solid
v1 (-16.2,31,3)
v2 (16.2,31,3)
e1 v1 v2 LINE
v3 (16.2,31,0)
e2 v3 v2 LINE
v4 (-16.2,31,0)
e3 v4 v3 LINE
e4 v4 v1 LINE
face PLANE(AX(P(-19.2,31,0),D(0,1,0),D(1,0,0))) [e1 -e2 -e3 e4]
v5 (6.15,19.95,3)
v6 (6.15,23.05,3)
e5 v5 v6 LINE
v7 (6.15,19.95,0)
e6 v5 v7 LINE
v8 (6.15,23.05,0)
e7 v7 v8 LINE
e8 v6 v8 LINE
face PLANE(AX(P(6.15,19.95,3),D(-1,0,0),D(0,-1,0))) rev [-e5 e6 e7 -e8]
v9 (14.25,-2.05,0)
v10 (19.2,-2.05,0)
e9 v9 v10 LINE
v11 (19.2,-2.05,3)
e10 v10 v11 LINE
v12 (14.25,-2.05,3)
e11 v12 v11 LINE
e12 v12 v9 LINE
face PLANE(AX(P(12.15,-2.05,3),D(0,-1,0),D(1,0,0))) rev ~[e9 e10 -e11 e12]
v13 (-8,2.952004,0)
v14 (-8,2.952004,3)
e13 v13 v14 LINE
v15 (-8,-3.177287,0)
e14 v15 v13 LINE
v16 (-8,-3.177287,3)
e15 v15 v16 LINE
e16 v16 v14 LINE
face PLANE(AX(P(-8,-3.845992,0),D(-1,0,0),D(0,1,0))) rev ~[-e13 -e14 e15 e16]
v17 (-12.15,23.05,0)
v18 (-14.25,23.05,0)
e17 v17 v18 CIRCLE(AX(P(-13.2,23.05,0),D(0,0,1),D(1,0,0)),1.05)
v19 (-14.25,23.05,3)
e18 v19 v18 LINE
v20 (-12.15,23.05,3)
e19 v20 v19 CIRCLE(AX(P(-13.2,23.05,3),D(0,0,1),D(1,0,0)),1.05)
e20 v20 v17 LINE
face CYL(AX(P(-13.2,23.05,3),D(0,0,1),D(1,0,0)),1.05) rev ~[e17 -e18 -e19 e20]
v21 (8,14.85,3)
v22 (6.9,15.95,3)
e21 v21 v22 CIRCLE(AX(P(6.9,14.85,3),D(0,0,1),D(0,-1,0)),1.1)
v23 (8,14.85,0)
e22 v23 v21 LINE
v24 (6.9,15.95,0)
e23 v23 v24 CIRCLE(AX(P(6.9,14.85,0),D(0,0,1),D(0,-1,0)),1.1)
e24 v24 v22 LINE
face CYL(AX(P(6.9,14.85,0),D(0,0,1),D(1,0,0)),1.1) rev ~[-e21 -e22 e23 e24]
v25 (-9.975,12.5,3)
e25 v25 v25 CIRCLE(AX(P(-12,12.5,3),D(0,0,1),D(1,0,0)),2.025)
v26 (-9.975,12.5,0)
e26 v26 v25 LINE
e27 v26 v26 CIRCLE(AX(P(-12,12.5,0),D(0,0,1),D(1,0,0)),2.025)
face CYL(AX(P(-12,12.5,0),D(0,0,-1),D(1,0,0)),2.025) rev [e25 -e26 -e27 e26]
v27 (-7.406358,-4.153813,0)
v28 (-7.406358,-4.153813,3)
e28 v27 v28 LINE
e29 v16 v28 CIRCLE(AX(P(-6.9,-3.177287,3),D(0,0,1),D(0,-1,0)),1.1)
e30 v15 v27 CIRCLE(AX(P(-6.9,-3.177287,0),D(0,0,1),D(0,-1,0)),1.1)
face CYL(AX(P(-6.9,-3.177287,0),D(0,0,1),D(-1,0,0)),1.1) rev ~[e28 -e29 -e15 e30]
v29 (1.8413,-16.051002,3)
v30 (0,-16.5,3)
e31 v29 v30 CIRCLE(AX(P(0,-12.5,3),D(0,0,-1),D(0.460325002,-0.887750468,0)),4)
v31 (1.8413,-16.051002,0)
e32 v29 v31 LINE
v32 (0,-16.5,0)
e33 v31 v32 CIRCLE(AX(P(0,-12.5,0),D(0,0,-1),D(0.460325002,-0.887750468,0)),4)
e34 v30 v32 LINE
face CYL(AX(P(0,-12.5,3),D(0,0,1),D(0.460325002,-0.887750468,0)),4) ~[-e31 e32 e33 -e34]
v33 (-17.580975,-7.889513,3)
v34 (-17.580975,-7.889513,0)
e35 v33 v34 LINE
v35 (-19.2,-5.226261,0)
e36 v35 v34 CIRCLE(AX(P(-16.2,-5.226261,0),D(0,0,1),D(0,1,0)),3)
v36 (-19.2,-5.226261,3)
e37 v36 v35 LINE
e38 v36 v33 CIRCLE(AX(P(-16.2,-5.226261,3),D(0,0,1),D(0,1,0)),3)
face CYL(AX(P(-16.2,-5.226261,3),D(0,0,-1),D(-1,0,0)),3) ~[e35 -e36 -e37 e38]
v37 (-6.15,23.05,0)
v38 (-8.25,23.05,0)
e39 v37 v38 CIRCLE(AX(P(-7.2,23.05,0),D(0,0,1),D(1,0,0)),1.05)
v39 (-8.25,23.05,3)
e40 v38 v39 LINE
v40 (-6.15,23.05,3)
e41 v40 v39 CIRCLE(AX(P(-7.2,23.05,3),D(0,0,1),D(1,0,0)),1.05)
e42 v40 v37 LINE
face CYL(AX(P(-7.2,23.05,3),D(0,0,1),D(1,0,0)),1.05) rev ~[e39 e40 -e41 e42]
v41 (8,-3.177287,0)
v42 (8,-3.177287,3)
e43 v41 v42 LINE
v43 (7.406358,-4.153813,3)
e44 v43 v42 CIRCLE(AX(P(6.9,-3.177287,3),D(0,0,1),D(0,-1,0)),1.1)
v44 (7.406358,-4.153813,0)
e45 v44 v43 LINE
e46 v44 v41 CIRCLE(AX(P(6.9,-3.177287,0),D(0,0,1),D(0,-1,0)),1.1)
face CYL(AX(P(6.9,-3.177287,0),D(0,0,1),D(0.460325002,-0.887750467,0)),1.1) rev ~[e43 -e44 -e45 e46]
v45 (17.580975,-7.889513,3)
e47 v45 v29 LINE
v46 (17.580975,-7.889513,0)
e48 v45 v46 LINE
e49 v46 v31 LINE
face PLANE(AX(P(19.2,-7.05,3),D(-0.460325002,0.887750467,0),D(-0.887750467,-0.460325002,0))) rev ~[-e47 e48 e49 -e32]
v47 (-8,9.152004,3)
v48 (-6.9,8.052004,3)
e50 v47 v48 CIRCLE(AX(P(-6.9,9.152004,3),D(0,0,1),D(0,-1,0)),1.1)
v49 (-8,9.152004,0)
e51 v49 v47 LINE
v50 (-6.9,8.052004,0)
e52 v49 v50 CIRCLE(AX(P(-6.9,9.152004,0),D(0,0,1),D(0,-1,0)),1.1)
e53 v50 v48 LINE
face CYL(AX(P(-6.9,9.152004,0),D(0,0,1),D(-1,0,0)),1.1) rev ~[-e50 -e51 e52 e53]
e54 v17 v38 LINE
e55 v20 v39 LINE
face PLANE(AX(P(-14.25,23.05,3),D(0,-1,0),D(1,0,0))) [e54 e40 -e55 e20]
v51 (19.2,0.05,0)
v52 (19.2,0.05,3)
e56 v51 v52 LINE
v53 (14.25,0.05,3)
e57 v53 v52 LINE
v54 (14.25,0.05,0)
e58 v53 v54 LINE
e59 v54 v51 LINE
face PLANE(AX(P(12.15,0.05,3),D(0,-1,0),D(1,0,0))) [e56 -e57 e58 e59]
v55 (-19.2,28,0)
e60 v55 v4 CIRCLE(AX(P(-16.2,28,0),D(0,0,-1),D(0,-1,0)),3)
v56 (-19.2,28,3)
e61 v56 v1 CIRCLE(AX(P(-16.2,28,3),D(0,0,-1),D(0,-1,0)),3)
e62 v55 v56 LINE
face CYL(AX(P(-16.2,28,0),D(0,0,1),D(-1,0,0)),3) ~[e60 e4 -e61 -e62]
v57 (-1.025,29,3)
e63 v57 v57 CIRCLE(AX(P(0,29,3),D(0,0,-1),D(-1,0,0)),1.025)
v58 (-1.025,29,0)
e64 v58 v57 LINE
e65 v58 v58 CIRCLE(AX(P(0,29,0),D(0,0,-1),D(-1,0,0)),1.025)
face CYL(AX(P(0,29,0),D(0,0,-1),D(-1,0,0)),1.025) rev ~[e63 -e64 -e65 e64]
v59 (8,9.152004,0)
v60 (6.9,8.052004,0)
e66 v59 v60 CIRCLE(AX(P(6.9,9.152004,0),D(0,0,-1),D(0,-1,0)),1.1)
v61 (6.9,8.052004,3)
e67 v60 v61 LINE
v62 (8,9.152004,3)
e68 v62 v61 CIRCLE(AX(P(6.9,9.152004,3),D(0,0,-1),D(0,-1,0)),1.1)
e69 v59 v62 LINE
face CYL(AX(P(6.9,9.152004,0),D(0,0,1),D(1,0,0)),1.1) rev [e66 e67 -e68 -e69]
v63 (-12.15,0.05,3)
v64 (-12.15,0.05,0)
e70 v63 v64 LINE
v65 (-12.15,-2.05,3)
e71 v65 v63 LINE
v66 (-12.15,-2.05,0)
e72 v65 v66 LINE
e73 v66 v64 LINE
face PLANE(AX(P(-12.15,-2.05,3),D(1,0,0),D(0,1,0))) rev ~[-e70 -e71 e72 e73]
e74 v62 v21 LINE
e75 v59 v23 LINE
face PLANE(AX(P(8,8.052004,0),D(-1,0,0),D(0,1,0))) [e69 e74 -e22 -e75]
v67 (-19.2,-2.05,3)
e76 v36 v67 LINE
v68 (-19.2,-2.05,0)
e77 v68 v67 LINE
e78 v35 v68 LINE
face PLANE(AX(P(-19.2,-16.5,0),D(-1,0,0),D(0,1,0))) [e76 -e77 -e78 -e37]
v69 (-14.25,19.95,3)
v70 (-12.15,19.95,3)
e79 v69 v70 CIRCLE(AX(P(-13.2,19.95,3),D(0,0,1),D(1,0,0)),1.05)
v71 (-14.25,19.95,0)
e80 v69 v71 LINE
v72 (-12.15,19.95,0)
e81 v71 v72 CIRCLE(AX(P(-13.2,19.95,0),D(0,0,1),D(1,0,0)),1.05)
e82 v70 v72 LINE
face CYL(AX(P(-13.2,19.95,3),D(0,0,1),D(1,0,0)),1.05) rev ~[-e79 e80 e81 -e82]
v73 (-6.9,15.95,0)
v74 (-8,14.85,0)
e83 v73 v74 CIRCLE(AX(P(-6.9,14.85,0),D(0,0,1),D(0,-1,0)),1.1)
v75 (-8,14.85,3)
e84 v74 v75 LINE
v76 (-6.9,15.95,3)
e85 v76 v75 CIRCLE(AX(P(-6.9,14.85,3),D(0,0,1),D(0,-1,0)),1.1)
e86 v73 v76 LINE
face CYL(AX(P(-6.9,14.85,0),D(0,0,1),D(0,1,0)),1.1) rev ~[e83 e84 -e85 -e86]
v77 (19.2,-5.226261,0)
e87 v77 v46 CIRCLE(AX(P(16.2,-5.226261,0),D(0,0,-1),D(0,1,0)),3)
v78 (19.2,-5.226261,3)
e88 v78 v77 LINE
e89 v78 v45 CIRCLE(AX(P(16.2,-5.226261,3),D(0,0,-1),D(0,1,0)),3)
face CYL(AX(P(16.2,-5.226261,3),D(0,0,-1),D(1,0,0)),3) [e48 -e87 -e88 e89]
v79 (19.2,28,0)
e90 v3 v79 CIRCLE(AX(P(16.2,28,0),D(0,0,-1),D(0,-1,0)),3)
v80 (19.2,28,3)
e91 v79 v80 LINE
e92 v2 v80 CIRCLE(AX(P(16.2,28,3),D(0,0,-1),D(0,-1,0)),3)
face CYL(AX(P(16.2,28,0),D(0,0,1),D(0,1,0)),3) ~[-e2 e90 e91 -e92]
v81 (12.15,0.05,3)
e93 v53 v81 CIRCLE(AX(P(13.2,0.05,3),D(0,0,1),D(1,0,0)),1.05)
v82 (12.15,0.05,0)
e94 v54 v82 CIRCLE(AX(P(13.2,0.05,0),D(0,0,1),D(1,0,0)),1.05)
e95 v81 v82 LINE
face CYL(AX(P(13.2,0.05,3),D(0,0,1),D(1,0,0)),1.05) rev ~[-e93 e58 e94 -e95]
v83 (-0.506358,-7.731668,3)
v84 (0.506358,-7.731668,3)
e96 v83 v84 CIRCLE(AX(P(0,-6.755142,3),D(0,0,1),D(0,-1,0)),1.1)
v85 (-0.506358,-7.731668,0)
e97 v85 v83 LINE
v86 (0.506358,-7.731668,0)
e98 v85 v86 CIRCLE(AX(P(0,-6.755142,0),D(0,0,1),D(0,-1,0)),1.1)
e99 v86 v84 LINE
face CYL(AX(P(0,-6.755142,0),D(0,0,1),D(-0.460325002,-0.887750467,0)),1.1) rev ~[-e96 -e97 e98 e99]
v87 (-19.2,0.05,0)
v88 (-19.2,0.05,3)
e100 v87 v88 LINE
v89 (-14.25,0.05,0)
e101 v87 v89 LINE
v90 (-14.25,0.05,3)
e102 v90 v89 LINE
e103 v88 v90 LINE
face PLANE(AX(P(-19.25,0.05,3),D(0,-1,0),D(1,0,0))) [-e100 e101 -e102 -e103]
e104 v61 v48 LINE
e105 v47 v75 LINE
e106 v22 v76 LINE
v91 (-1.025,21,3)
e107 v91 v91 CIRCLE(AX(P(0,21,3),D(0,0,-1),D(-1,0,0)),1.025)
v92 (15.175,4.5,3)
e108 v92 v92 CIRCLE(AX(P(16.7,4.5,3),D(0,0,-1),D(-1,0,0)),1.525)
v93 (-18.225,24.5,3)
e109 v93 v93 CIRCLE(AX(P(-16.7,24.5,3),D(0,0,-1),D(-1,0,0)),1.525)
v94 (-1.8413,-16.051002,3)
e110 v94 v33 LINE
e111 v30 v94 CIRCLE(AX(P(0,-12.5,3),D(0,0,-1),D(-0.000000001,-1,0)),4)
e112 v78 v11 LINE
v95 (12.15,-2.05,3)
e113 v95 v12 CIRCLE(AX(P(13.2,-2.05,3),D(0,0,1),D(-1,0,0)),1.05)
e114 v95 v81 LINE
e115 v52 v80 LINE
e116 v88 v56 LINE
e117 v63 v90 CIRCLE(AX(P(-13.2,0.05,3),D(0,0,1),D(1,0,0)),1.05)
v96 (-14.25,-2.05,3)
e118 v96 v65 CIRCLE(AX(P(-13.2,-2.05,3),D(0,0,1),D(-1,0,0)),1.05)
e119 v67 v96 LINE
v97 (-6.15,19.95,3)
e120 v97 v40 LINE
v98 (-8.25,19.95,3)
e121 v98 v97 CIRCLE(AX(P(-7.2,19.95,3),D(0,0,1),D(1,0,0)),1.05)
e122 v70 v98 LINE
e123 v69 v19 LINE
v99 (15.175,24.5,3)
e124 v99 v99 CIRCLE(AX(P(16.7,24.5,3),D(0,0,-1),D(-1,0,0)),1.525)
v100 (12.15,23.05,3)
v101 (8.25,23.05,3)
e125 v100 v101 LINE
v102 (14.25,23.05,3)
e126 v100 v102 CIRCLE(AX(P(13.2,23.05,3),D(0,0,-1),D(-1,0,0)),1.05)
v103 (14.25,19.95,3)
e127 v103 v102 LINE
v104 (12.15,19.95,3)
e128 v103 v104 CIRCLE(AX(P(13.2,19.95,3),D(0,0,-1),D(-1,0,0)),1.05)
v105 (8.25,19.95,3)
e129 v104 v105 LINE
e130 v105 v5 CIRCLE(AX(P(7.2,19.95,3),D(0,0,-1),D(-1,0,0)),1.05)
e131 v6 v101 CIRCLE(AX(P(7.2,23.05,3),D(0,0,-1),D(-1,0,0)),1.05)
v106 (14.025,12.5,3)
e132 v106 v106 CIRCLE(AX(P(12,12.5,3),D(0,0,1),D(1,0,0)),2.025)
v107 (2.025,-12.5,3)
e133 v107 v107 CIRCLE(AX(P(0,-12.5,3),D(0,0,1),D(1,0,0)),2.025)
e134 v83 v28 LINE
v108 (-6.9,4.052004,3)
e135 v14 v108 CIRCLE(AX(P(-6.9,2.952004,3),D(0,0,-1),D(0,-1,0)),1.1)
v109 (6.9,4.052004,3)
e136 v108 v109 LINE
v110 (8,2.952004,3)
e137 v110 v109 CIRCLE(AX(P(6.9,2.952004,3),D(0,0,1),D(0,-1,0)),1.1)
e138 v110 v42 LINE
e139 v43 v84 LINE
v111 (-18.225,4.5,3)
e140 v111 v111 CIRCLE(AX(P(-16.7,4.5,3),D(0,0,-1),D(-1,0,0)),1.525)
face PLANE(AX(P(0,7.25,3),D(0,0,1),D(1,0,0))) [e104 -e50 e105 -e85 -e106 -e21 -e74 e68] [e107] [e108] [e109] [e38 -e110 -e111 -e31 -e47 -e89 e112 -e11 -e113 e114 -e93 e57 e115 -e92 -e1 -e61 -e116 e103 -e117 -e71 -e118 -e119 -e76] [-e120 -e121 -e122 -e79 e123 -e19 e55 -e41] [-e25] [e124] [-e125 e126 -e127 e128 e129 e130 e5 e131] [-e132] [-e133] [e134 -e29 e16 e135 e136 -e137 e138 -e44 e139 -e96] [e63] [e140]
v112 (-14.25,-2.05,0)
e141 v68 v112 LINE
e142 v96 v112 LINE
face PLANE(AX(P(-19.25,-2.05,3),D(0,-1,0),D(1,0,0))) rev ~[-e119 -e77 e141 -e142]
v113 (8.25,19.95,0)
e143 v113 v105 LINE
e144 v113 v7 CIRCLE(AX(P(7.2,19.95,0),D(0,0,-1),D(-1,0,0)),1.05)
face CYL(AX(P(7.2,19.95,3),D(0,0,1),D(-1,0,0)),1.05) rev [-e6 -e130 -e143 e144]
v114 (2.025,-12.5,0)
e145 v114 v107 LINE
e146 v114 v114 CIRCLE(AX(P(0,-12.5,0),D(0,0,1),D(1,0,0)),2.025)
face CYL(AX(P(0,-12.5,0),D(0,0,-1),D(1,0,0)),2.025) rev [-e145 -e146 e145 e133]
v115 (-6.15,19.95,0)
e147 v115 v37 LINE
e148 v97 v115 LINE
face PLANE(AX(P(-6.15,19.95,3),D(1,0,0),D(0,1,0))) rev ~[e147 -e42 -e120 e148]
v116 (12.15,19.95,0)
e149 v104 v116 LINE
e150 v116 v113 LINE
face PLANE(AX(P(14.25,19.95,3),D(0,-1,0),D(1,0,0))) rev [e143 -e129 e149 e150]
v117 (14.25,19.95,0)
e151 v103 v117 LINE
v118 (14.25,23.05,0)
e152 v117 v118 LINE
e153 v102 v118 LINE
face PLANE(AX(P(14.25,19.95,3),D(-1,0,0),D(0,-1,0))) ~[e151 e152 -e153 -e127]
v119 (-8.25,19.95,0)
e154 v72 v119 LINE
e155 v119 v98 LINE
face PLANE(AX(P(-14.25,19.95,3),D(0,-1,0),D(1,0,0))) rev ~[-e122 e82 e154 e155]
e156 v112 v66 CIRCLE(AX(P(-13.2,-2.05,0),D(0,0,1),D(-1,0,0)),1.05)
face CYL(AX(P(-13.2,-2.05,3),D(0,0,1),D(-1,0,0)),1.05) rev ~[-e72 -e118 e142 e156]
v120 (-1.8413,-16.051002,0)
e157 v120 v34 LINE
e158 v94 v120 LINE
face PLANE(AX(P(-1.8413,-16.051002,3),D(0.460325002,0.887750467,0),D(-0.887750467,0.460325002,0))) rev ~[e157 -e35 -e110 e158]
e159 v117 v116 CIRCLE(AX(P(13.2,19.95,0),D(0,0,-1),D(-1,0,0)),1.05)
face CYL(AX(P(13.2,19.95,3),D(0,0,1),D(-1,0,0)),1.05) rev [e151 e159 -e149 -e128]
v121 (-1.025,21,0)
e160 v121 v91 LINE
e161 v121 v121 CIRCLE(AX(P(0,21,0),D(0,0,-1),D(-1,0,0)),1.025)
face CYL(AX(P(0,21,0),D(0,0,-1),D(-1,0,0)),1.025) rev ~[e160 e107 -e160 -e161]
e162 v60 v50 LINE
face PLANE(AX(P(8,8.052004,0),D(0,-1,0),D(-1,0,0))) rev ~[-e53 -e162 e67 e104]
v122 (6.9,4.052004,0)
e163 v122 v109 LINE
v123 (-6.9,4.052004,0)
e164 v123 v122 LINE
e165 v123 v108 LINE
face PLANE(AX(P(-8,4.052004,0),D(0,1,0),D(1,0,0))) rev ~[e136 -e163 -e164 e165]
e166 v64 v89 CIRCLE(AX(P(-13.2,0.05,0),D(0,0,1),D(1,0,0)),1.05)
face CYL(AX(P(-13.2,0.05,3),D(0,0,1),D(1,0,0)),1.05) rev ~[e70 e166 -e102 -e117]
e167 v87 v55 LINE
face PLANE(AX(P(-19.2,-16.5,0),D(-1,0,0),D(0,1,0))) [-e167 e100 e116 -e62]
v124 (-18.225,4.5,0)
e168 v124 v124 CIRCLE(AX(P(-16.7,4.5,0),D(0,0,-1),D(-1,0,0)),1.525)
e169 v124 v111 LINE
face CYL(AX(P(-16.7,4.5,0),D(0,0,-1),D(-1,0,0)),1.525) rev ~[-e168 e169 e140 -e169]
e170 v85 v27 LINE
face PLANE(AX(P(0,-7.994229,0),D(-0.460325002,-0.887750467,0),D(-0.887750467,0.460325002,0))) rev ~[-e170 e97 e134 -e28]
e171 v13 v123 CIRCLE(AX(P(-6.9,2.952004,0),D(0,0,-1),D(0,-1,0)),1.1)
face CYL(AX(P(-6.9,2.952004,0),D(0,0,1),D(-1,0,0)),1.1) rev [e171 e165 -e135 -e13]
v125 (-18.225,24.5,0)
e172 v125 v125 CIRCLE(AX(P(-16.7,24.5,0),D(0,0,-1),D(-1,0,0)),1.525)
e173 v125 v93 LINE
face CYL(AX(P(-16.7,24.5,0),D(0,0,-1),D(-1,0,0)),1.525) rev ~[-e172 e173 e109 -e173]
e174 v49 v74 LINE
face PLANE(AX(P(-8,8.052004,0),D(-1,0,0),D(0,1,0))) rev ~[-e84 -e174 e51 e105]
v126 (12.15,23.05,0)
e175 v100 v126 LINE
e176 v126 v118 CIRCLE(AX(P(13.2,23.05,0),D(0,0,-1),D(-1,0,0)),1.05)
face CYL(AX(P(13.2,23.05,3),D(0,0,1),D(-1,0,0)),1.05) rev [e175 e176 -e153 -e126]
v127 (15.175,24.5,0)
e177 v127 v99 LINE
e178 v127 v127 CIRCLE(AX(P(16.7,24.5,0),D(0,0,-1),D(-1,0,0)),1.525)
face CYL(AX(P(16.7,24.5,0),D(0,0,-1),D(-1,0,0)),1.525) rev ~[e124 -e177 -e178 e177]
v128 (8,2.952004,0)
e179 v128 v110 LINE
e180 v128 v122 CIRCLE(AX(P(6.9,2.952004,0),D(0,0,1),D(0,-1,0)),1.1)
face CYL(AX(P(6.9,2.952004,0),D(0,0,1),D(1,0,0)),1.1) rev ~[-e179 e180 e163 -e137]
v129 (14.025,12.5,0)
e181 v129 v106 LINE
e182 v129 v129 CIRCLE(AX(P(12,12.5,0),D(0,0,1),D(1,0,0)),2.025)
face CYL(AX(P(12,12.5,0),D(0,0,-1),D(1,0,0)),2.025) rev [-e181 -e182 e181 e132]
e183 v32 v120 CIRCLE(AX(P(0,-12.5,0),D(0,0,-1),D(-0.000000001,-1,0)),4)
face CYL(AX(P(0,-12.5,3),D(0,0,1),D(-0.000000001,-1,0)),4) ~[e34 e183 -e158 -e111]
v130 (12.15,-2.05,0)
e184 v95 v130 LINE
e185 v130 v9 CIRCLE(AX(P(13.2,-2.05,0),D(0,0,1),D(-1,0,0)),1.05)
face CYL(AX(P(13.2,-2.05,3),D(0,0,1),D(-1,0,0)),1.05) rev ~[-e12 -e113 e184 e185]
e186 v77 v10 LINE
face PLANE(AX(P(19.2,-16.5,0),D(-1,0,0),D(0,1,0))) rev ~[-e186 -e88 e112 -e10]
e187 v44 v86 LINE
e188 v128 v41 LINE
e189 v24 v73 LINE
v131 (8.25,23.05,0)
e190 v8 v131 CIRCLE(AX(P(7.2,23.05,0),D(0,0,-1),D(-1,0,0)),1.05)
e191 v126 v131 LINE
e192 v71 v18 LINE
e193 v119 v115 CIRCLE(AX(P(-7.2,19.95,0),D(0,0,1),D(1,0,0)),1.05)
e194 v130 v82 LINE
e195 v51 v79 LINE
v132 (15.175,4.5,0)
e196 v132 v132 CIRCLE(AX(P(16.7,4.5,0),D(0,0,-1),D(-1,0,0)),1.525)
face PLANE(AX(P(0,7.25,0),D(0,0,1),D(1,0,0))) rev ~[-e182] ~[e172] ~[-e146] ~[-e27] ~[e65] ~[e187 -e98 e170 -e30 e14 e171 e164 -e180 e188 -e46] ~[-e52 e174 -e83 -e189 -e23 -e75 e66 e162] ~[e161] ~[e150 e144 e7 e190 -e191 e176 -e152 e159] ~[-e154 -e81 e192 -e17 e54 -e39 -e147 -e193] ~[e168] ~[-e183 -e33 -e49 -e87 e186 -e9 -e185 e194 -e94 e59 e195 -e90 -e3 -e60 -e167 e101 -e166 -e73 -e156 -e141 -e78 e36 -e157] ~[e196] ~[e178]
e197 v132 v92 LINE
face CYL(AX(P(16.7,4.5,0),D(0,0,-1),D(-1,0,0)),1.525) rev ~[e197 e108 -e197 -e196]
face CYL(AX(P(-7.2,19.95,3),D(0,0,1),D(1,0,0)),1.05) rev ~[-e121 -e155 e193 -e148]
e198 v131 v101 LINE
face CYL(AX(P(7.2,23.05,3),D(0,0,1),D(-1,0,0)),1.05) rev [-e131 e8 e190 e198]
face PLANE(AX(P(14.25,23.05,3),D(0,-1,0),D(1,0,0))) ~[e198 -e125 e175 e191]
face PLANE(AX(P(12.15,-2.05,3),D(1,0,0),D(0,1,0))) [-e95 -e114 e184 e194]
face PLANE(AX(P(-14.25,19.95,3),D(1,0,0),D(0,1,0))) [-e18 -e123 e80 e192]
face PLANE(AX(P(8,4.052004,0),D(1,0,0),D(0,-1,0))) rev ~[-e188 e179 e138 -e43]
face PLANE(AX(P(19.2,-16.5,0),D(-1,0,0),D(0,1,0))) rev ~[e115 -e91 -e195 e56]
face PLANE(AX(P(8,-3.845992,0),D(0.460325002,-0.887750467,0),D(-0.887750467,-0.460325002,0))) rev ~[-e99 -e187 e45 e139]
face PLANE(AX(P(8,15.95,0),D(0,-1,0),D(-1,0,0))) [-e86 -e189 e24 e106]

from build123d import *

# Parameters (mm, degrees)
SKETCH_1_W          = 38.4
SKETCH_1_H          = 47.5
SKETCH_1_R          = 2.025
EXTRUDE_1_DEPTH     = 3
SKETCH_2_R          = 1.025
CUT_EXTRUDE_1_DEPTH = 43
SKETCH_3_W          = 7.1
SKETCH_3_H          = 2.1
CUT_EXTRUDE_2_DEPTH = 3
CUT_EXTRUDE_3_DEPTH = 3
SKETCH_5_R          = 1.525
CUT_EXTRUDE_4_DEPTH = 3
SKETCH_6_W          = 8.1
SKETCH_6_H          = 3.1
CUT_EXTRUDE_5_DEPTH = 3
SKETCH_7_R          = 1.05
CUT_EXTRUDE_6_DEPTH = 3
CUT_EXTRUDE_7_DEPTH = 3
FILLET_1_R          = 3
SKETCH_9_W          = 16
SKETCH_9_H          = 7.89799579
CUT_EXTRUDE_8_DEPTH = 3
FILLET_2_R          = 1.1


with BuildPart() as part:
    # 草图1 → 凸台-拉伸1 (new body)
    with BuildSketch(Plane.XY):
        with Locations((0, 7.25)):
            Rectangle(SKETCH_1_W, SKETCH_1_H)
        with Locations((-12, 12.5)):
            Circle(SKETCH_1_R, mode=Mode.SUBTRACT)
        with Locations((12, 12.5)):
            Circle(SKETCH_1_R, mode=Mode.SUBTRACT)
        with Locations((0, -12.5)):
            Circle(SKETCH_1_R, mode=Mode.SUBTRACT)
    extrude(amount=EXTRUDE_1_DEPTH)

    # 草图2 → 切除-拉伸1 (cut)
    with BuildSketch(Plane(origin=(0, 0, 0), x_dir=(-1, 0, 0), z_dir=(0, 0, -1))):
        with Locations((0, 29)):
            Circle(SKETCH_2_R)
        with Locations((0, 21)):
            Circle(SKETCH_2_R)
    extrude(amount=-CUT_EXTRUDE_1_DEPTH, mode=Mode.SUBTRACT)

    # 草图3 → 切除-拉伸2 (cut)
    with BuildSketch(Plane.XY.offset(3)):
        with Locations((15.7, -1)):
            Rectangle(SKETCH_3_W, SKETCH_3_H)
        with Locations((-15.7, -1)):
            Rectangle(SKETCH_3_W, SKETCH_3_H)
    extrude(amount=-CUT_EXTRUDE_2_DEPTH, mode=Mode.SUBTRACT)

    # 草图4 → 切除-拉伸3 (cut)
    with BuildSketch(Plane.XY.offset(3)):
        with BuildLine():
            ThreePointArc((-12.15, -2.05), (-12.45753788, -1.30753788), (-13.2, -1))
            ThreePointArc((-13.2, -1), (-13.94246212, -1.30753788), (-14.25, -2.05))
            Line((-14.25, -2.05), (-12.15, -2.05))
        make_face()
        with BuildLine():
            ThreePointArc((-14.25, -2.05), (-13.2, -3.1), (-12.15, -2.05))
            Line((-12.15, -2.05), (-14.25, -2.05))
        make_face()
        with BuildLine():
            Line((-14.25, 0.05), (-12.15, 0.05))
            ThreePointArc((-12.15, 0.05), (-13.2, 1.1), (-14.25, 0.05))
        make_face()
        with BuildLine():
            ThreePointArc((-13.2, -1), (-12.45753788, -0.69246212), (-12.15, 0.05))
            Line((-12.15, 0.05), (-14.25, 0.05))
            ThreePointArc((-14.25, 0.05), (-13.94246212, -0.69246212), (-13.2, -1))
        make_face()
        with BuildLine():
            ThreePointArc((14.25, -2.05), (13.94246212, -1.30753788), (13.2, -1))
            ThreePointArc((13.2, -1), (12.45753788, -1.30753788), (12.15, -2.05))
            Line((12.15, -2.05), (14.25, -2.05))
        make_face()
        with BuildLine():
            ThreePointArc((12.15, -2.05), (13.2, -3.1), (14.25, -2.05))
            Line((14.25, -2.05), (12.15, -2.05))
        make_face()
        with BuildLine():
            Line((12.15, 0.05), (14.25, 0.05))
            ThreePointArc((14.25, 0.05), (13.2, 1.1), (12.15, 0.05))
        make_face()
        with BuildLine():
            ThreePointArc((13.2, -1), (13.94246212, -0.69246212), (14.25, 0.05))
            Line((14.25, 0.05), (12.15, 0.05))
            ThreePointArc((12.15, 0.05), (12.45753788, -0.69246212), (13.2, -1))
        make_face()
    extrude(amount=-CUT_EXTRUDE_3_DEPTH, mode=Mode.SUBTRACT)

    # 草图5 → 切除-拉伸4 (cut)
    with BuildSketch(Plane(origin=(0, 0, 0), x_dir=(-1, 0, 0), z_dir=(0, 0, -1))):
        with Locations((16.7, 4.5)):
            Circle(SKETCH_5_R)
        with Locations((16.7, 24.5)):
            Circle(SKETCH_5_R)
        with Locations((-16.7, 24.5)):
            Circle(SKETCH_5_R)
        with Locations((-16.7, 4.5)):
            Circle(SKETCH_5_R)
    extrude(amount=-CUT_EXTRUDE_4_DEPTH, mode=Mode.SUBTRACT)

    # 草图6 → 切除-拉伸5 (cut)
    with BuildSketch(Plane.XY.offset(3)):
        with Locations((-10.2, 21.5)):
            Rectangle(SKETCH_6_W, SKETCH_6_H)
    cut_extrude_5 = extrude(amount=-CUT_EXTRUDE_5_DEPTH, mode=Mode.SUBTRACT)

    # 草图7 → 切除-拉伸6 (cut)
    with BuildSketch(Plane.XY.offset(3)):
        with Locations((-13.2, 19.95)):
            Circle(SKETCH_7_R)
        with Locations((-13.2, 23.05)):
            Circle(SKETCH_7_R)
        with Locations((-7.2, 23.05)):
            Circle(SKETCH_7_R)
        with Locations((-7.2, 19.95)):
            Circle(SKETCH_7_R)
    cut_extrude_6 = extrude(amount=-CUT_EXTRUDE_6_DEPTH, mode=Mode.SUBTRACT)

    # 镜向1: 切除-拉伸5, 切除-拉伸6 across plane
    add(cut_extrude_5.mirror(Plane(origin=(0, 0, 0), x_dir=(0, 0, 1), z_dir=(1, 0, 0))), mode=Mode.SUBTRACT)
    add(cut_extrude_6.mirror(Plane(origin=(0, 0, 0), x_dir=(0, 0, 1), z_dir=(1, 0, 0))), mode=Mode.SUBTRACT)

    # 草图8 → 切除-拉伸7 (cut)
    with BuildSketch(Plane.XY.offset(3)):
        with BuildLine():
            Line((-19.2, -16.5), (0, -16.5))
            ThreePointArc((0, -16.5), (-0.947626647, -16.38612966), (-1.84130001, -16.051001869))
            Line((-1.84130001, -16.051001869), (-19.2, -7.05))
            Line((-19.2, -7.05), (-19.2, -16.5))
        make_face()
        with BuildLine():
            Line((19.2, -7.05), (1.84130001, -16.051001869))
            ThreePointArc((1.84130001, -16.051001869), (0.947626647, -16.38612966), (0, -16.5))
            Line((0, -16.5), (19.2, -16.5))
            Line((19.2, -16.5), (19.2, -7.05))
        make_face()
    extrude(amount=-CUT_EXTRUDE_7_DEPTH, mode=Mode.SUBTRACT)

    # 圆角1
    fillet_1_edges = [part.edges().sort_by_distance(p)[0] for p in [
        (-19.2, -7.05, 1.5),
        (19.2, -7.05, 1.5),
        (-19.2, 31, 1.5),
        (19.2, 31, 1.5),
    ]]
    fillet(fillet_1_edges, radius=FILLET_1_R)

    # 草图9 → 切除-拉伸8 (cut)
    with BuildSketch(Plane(origin=(0, 0, 0), x_dir=(-1, 0, 0), z_dir=(0, 0, -1))):
        Polygon((8, 4.05200421), (-8, 4.05200421), (-8, -3.845991579), (0, -7.99422935), (8, -3.845991579), align=None)
        with Locations((0, 12.001002105)):
            Rectangle(SKETCH_9_W, SKETCH_9_H)
    extrude(amount=-CUT_EXTRUDE_8_DEPTH, mode=Mode.SUBTRACT)

    # 圆角2
    fillet_2_edges = [part.edges().sort_by_distance(p)[0] for p in [
        (8, -3.845991579, 1.5),
        (0, -7.99422935, 1.5),
        (-8, -3.845991579, 1.5),
        (-8, 4.05200421, 1.5),
        (8, 4.05200421, 1.5),
        (-8, 8.05200421, 1.5),
        (-8, 15.95, 1.5),
        (8, 15.95, 1.5),
        (8, 8.05200421, 1.5),
    ]]
    fillet(fillet_2_edges, radius=FILLET_2_R)


solid = part.part
